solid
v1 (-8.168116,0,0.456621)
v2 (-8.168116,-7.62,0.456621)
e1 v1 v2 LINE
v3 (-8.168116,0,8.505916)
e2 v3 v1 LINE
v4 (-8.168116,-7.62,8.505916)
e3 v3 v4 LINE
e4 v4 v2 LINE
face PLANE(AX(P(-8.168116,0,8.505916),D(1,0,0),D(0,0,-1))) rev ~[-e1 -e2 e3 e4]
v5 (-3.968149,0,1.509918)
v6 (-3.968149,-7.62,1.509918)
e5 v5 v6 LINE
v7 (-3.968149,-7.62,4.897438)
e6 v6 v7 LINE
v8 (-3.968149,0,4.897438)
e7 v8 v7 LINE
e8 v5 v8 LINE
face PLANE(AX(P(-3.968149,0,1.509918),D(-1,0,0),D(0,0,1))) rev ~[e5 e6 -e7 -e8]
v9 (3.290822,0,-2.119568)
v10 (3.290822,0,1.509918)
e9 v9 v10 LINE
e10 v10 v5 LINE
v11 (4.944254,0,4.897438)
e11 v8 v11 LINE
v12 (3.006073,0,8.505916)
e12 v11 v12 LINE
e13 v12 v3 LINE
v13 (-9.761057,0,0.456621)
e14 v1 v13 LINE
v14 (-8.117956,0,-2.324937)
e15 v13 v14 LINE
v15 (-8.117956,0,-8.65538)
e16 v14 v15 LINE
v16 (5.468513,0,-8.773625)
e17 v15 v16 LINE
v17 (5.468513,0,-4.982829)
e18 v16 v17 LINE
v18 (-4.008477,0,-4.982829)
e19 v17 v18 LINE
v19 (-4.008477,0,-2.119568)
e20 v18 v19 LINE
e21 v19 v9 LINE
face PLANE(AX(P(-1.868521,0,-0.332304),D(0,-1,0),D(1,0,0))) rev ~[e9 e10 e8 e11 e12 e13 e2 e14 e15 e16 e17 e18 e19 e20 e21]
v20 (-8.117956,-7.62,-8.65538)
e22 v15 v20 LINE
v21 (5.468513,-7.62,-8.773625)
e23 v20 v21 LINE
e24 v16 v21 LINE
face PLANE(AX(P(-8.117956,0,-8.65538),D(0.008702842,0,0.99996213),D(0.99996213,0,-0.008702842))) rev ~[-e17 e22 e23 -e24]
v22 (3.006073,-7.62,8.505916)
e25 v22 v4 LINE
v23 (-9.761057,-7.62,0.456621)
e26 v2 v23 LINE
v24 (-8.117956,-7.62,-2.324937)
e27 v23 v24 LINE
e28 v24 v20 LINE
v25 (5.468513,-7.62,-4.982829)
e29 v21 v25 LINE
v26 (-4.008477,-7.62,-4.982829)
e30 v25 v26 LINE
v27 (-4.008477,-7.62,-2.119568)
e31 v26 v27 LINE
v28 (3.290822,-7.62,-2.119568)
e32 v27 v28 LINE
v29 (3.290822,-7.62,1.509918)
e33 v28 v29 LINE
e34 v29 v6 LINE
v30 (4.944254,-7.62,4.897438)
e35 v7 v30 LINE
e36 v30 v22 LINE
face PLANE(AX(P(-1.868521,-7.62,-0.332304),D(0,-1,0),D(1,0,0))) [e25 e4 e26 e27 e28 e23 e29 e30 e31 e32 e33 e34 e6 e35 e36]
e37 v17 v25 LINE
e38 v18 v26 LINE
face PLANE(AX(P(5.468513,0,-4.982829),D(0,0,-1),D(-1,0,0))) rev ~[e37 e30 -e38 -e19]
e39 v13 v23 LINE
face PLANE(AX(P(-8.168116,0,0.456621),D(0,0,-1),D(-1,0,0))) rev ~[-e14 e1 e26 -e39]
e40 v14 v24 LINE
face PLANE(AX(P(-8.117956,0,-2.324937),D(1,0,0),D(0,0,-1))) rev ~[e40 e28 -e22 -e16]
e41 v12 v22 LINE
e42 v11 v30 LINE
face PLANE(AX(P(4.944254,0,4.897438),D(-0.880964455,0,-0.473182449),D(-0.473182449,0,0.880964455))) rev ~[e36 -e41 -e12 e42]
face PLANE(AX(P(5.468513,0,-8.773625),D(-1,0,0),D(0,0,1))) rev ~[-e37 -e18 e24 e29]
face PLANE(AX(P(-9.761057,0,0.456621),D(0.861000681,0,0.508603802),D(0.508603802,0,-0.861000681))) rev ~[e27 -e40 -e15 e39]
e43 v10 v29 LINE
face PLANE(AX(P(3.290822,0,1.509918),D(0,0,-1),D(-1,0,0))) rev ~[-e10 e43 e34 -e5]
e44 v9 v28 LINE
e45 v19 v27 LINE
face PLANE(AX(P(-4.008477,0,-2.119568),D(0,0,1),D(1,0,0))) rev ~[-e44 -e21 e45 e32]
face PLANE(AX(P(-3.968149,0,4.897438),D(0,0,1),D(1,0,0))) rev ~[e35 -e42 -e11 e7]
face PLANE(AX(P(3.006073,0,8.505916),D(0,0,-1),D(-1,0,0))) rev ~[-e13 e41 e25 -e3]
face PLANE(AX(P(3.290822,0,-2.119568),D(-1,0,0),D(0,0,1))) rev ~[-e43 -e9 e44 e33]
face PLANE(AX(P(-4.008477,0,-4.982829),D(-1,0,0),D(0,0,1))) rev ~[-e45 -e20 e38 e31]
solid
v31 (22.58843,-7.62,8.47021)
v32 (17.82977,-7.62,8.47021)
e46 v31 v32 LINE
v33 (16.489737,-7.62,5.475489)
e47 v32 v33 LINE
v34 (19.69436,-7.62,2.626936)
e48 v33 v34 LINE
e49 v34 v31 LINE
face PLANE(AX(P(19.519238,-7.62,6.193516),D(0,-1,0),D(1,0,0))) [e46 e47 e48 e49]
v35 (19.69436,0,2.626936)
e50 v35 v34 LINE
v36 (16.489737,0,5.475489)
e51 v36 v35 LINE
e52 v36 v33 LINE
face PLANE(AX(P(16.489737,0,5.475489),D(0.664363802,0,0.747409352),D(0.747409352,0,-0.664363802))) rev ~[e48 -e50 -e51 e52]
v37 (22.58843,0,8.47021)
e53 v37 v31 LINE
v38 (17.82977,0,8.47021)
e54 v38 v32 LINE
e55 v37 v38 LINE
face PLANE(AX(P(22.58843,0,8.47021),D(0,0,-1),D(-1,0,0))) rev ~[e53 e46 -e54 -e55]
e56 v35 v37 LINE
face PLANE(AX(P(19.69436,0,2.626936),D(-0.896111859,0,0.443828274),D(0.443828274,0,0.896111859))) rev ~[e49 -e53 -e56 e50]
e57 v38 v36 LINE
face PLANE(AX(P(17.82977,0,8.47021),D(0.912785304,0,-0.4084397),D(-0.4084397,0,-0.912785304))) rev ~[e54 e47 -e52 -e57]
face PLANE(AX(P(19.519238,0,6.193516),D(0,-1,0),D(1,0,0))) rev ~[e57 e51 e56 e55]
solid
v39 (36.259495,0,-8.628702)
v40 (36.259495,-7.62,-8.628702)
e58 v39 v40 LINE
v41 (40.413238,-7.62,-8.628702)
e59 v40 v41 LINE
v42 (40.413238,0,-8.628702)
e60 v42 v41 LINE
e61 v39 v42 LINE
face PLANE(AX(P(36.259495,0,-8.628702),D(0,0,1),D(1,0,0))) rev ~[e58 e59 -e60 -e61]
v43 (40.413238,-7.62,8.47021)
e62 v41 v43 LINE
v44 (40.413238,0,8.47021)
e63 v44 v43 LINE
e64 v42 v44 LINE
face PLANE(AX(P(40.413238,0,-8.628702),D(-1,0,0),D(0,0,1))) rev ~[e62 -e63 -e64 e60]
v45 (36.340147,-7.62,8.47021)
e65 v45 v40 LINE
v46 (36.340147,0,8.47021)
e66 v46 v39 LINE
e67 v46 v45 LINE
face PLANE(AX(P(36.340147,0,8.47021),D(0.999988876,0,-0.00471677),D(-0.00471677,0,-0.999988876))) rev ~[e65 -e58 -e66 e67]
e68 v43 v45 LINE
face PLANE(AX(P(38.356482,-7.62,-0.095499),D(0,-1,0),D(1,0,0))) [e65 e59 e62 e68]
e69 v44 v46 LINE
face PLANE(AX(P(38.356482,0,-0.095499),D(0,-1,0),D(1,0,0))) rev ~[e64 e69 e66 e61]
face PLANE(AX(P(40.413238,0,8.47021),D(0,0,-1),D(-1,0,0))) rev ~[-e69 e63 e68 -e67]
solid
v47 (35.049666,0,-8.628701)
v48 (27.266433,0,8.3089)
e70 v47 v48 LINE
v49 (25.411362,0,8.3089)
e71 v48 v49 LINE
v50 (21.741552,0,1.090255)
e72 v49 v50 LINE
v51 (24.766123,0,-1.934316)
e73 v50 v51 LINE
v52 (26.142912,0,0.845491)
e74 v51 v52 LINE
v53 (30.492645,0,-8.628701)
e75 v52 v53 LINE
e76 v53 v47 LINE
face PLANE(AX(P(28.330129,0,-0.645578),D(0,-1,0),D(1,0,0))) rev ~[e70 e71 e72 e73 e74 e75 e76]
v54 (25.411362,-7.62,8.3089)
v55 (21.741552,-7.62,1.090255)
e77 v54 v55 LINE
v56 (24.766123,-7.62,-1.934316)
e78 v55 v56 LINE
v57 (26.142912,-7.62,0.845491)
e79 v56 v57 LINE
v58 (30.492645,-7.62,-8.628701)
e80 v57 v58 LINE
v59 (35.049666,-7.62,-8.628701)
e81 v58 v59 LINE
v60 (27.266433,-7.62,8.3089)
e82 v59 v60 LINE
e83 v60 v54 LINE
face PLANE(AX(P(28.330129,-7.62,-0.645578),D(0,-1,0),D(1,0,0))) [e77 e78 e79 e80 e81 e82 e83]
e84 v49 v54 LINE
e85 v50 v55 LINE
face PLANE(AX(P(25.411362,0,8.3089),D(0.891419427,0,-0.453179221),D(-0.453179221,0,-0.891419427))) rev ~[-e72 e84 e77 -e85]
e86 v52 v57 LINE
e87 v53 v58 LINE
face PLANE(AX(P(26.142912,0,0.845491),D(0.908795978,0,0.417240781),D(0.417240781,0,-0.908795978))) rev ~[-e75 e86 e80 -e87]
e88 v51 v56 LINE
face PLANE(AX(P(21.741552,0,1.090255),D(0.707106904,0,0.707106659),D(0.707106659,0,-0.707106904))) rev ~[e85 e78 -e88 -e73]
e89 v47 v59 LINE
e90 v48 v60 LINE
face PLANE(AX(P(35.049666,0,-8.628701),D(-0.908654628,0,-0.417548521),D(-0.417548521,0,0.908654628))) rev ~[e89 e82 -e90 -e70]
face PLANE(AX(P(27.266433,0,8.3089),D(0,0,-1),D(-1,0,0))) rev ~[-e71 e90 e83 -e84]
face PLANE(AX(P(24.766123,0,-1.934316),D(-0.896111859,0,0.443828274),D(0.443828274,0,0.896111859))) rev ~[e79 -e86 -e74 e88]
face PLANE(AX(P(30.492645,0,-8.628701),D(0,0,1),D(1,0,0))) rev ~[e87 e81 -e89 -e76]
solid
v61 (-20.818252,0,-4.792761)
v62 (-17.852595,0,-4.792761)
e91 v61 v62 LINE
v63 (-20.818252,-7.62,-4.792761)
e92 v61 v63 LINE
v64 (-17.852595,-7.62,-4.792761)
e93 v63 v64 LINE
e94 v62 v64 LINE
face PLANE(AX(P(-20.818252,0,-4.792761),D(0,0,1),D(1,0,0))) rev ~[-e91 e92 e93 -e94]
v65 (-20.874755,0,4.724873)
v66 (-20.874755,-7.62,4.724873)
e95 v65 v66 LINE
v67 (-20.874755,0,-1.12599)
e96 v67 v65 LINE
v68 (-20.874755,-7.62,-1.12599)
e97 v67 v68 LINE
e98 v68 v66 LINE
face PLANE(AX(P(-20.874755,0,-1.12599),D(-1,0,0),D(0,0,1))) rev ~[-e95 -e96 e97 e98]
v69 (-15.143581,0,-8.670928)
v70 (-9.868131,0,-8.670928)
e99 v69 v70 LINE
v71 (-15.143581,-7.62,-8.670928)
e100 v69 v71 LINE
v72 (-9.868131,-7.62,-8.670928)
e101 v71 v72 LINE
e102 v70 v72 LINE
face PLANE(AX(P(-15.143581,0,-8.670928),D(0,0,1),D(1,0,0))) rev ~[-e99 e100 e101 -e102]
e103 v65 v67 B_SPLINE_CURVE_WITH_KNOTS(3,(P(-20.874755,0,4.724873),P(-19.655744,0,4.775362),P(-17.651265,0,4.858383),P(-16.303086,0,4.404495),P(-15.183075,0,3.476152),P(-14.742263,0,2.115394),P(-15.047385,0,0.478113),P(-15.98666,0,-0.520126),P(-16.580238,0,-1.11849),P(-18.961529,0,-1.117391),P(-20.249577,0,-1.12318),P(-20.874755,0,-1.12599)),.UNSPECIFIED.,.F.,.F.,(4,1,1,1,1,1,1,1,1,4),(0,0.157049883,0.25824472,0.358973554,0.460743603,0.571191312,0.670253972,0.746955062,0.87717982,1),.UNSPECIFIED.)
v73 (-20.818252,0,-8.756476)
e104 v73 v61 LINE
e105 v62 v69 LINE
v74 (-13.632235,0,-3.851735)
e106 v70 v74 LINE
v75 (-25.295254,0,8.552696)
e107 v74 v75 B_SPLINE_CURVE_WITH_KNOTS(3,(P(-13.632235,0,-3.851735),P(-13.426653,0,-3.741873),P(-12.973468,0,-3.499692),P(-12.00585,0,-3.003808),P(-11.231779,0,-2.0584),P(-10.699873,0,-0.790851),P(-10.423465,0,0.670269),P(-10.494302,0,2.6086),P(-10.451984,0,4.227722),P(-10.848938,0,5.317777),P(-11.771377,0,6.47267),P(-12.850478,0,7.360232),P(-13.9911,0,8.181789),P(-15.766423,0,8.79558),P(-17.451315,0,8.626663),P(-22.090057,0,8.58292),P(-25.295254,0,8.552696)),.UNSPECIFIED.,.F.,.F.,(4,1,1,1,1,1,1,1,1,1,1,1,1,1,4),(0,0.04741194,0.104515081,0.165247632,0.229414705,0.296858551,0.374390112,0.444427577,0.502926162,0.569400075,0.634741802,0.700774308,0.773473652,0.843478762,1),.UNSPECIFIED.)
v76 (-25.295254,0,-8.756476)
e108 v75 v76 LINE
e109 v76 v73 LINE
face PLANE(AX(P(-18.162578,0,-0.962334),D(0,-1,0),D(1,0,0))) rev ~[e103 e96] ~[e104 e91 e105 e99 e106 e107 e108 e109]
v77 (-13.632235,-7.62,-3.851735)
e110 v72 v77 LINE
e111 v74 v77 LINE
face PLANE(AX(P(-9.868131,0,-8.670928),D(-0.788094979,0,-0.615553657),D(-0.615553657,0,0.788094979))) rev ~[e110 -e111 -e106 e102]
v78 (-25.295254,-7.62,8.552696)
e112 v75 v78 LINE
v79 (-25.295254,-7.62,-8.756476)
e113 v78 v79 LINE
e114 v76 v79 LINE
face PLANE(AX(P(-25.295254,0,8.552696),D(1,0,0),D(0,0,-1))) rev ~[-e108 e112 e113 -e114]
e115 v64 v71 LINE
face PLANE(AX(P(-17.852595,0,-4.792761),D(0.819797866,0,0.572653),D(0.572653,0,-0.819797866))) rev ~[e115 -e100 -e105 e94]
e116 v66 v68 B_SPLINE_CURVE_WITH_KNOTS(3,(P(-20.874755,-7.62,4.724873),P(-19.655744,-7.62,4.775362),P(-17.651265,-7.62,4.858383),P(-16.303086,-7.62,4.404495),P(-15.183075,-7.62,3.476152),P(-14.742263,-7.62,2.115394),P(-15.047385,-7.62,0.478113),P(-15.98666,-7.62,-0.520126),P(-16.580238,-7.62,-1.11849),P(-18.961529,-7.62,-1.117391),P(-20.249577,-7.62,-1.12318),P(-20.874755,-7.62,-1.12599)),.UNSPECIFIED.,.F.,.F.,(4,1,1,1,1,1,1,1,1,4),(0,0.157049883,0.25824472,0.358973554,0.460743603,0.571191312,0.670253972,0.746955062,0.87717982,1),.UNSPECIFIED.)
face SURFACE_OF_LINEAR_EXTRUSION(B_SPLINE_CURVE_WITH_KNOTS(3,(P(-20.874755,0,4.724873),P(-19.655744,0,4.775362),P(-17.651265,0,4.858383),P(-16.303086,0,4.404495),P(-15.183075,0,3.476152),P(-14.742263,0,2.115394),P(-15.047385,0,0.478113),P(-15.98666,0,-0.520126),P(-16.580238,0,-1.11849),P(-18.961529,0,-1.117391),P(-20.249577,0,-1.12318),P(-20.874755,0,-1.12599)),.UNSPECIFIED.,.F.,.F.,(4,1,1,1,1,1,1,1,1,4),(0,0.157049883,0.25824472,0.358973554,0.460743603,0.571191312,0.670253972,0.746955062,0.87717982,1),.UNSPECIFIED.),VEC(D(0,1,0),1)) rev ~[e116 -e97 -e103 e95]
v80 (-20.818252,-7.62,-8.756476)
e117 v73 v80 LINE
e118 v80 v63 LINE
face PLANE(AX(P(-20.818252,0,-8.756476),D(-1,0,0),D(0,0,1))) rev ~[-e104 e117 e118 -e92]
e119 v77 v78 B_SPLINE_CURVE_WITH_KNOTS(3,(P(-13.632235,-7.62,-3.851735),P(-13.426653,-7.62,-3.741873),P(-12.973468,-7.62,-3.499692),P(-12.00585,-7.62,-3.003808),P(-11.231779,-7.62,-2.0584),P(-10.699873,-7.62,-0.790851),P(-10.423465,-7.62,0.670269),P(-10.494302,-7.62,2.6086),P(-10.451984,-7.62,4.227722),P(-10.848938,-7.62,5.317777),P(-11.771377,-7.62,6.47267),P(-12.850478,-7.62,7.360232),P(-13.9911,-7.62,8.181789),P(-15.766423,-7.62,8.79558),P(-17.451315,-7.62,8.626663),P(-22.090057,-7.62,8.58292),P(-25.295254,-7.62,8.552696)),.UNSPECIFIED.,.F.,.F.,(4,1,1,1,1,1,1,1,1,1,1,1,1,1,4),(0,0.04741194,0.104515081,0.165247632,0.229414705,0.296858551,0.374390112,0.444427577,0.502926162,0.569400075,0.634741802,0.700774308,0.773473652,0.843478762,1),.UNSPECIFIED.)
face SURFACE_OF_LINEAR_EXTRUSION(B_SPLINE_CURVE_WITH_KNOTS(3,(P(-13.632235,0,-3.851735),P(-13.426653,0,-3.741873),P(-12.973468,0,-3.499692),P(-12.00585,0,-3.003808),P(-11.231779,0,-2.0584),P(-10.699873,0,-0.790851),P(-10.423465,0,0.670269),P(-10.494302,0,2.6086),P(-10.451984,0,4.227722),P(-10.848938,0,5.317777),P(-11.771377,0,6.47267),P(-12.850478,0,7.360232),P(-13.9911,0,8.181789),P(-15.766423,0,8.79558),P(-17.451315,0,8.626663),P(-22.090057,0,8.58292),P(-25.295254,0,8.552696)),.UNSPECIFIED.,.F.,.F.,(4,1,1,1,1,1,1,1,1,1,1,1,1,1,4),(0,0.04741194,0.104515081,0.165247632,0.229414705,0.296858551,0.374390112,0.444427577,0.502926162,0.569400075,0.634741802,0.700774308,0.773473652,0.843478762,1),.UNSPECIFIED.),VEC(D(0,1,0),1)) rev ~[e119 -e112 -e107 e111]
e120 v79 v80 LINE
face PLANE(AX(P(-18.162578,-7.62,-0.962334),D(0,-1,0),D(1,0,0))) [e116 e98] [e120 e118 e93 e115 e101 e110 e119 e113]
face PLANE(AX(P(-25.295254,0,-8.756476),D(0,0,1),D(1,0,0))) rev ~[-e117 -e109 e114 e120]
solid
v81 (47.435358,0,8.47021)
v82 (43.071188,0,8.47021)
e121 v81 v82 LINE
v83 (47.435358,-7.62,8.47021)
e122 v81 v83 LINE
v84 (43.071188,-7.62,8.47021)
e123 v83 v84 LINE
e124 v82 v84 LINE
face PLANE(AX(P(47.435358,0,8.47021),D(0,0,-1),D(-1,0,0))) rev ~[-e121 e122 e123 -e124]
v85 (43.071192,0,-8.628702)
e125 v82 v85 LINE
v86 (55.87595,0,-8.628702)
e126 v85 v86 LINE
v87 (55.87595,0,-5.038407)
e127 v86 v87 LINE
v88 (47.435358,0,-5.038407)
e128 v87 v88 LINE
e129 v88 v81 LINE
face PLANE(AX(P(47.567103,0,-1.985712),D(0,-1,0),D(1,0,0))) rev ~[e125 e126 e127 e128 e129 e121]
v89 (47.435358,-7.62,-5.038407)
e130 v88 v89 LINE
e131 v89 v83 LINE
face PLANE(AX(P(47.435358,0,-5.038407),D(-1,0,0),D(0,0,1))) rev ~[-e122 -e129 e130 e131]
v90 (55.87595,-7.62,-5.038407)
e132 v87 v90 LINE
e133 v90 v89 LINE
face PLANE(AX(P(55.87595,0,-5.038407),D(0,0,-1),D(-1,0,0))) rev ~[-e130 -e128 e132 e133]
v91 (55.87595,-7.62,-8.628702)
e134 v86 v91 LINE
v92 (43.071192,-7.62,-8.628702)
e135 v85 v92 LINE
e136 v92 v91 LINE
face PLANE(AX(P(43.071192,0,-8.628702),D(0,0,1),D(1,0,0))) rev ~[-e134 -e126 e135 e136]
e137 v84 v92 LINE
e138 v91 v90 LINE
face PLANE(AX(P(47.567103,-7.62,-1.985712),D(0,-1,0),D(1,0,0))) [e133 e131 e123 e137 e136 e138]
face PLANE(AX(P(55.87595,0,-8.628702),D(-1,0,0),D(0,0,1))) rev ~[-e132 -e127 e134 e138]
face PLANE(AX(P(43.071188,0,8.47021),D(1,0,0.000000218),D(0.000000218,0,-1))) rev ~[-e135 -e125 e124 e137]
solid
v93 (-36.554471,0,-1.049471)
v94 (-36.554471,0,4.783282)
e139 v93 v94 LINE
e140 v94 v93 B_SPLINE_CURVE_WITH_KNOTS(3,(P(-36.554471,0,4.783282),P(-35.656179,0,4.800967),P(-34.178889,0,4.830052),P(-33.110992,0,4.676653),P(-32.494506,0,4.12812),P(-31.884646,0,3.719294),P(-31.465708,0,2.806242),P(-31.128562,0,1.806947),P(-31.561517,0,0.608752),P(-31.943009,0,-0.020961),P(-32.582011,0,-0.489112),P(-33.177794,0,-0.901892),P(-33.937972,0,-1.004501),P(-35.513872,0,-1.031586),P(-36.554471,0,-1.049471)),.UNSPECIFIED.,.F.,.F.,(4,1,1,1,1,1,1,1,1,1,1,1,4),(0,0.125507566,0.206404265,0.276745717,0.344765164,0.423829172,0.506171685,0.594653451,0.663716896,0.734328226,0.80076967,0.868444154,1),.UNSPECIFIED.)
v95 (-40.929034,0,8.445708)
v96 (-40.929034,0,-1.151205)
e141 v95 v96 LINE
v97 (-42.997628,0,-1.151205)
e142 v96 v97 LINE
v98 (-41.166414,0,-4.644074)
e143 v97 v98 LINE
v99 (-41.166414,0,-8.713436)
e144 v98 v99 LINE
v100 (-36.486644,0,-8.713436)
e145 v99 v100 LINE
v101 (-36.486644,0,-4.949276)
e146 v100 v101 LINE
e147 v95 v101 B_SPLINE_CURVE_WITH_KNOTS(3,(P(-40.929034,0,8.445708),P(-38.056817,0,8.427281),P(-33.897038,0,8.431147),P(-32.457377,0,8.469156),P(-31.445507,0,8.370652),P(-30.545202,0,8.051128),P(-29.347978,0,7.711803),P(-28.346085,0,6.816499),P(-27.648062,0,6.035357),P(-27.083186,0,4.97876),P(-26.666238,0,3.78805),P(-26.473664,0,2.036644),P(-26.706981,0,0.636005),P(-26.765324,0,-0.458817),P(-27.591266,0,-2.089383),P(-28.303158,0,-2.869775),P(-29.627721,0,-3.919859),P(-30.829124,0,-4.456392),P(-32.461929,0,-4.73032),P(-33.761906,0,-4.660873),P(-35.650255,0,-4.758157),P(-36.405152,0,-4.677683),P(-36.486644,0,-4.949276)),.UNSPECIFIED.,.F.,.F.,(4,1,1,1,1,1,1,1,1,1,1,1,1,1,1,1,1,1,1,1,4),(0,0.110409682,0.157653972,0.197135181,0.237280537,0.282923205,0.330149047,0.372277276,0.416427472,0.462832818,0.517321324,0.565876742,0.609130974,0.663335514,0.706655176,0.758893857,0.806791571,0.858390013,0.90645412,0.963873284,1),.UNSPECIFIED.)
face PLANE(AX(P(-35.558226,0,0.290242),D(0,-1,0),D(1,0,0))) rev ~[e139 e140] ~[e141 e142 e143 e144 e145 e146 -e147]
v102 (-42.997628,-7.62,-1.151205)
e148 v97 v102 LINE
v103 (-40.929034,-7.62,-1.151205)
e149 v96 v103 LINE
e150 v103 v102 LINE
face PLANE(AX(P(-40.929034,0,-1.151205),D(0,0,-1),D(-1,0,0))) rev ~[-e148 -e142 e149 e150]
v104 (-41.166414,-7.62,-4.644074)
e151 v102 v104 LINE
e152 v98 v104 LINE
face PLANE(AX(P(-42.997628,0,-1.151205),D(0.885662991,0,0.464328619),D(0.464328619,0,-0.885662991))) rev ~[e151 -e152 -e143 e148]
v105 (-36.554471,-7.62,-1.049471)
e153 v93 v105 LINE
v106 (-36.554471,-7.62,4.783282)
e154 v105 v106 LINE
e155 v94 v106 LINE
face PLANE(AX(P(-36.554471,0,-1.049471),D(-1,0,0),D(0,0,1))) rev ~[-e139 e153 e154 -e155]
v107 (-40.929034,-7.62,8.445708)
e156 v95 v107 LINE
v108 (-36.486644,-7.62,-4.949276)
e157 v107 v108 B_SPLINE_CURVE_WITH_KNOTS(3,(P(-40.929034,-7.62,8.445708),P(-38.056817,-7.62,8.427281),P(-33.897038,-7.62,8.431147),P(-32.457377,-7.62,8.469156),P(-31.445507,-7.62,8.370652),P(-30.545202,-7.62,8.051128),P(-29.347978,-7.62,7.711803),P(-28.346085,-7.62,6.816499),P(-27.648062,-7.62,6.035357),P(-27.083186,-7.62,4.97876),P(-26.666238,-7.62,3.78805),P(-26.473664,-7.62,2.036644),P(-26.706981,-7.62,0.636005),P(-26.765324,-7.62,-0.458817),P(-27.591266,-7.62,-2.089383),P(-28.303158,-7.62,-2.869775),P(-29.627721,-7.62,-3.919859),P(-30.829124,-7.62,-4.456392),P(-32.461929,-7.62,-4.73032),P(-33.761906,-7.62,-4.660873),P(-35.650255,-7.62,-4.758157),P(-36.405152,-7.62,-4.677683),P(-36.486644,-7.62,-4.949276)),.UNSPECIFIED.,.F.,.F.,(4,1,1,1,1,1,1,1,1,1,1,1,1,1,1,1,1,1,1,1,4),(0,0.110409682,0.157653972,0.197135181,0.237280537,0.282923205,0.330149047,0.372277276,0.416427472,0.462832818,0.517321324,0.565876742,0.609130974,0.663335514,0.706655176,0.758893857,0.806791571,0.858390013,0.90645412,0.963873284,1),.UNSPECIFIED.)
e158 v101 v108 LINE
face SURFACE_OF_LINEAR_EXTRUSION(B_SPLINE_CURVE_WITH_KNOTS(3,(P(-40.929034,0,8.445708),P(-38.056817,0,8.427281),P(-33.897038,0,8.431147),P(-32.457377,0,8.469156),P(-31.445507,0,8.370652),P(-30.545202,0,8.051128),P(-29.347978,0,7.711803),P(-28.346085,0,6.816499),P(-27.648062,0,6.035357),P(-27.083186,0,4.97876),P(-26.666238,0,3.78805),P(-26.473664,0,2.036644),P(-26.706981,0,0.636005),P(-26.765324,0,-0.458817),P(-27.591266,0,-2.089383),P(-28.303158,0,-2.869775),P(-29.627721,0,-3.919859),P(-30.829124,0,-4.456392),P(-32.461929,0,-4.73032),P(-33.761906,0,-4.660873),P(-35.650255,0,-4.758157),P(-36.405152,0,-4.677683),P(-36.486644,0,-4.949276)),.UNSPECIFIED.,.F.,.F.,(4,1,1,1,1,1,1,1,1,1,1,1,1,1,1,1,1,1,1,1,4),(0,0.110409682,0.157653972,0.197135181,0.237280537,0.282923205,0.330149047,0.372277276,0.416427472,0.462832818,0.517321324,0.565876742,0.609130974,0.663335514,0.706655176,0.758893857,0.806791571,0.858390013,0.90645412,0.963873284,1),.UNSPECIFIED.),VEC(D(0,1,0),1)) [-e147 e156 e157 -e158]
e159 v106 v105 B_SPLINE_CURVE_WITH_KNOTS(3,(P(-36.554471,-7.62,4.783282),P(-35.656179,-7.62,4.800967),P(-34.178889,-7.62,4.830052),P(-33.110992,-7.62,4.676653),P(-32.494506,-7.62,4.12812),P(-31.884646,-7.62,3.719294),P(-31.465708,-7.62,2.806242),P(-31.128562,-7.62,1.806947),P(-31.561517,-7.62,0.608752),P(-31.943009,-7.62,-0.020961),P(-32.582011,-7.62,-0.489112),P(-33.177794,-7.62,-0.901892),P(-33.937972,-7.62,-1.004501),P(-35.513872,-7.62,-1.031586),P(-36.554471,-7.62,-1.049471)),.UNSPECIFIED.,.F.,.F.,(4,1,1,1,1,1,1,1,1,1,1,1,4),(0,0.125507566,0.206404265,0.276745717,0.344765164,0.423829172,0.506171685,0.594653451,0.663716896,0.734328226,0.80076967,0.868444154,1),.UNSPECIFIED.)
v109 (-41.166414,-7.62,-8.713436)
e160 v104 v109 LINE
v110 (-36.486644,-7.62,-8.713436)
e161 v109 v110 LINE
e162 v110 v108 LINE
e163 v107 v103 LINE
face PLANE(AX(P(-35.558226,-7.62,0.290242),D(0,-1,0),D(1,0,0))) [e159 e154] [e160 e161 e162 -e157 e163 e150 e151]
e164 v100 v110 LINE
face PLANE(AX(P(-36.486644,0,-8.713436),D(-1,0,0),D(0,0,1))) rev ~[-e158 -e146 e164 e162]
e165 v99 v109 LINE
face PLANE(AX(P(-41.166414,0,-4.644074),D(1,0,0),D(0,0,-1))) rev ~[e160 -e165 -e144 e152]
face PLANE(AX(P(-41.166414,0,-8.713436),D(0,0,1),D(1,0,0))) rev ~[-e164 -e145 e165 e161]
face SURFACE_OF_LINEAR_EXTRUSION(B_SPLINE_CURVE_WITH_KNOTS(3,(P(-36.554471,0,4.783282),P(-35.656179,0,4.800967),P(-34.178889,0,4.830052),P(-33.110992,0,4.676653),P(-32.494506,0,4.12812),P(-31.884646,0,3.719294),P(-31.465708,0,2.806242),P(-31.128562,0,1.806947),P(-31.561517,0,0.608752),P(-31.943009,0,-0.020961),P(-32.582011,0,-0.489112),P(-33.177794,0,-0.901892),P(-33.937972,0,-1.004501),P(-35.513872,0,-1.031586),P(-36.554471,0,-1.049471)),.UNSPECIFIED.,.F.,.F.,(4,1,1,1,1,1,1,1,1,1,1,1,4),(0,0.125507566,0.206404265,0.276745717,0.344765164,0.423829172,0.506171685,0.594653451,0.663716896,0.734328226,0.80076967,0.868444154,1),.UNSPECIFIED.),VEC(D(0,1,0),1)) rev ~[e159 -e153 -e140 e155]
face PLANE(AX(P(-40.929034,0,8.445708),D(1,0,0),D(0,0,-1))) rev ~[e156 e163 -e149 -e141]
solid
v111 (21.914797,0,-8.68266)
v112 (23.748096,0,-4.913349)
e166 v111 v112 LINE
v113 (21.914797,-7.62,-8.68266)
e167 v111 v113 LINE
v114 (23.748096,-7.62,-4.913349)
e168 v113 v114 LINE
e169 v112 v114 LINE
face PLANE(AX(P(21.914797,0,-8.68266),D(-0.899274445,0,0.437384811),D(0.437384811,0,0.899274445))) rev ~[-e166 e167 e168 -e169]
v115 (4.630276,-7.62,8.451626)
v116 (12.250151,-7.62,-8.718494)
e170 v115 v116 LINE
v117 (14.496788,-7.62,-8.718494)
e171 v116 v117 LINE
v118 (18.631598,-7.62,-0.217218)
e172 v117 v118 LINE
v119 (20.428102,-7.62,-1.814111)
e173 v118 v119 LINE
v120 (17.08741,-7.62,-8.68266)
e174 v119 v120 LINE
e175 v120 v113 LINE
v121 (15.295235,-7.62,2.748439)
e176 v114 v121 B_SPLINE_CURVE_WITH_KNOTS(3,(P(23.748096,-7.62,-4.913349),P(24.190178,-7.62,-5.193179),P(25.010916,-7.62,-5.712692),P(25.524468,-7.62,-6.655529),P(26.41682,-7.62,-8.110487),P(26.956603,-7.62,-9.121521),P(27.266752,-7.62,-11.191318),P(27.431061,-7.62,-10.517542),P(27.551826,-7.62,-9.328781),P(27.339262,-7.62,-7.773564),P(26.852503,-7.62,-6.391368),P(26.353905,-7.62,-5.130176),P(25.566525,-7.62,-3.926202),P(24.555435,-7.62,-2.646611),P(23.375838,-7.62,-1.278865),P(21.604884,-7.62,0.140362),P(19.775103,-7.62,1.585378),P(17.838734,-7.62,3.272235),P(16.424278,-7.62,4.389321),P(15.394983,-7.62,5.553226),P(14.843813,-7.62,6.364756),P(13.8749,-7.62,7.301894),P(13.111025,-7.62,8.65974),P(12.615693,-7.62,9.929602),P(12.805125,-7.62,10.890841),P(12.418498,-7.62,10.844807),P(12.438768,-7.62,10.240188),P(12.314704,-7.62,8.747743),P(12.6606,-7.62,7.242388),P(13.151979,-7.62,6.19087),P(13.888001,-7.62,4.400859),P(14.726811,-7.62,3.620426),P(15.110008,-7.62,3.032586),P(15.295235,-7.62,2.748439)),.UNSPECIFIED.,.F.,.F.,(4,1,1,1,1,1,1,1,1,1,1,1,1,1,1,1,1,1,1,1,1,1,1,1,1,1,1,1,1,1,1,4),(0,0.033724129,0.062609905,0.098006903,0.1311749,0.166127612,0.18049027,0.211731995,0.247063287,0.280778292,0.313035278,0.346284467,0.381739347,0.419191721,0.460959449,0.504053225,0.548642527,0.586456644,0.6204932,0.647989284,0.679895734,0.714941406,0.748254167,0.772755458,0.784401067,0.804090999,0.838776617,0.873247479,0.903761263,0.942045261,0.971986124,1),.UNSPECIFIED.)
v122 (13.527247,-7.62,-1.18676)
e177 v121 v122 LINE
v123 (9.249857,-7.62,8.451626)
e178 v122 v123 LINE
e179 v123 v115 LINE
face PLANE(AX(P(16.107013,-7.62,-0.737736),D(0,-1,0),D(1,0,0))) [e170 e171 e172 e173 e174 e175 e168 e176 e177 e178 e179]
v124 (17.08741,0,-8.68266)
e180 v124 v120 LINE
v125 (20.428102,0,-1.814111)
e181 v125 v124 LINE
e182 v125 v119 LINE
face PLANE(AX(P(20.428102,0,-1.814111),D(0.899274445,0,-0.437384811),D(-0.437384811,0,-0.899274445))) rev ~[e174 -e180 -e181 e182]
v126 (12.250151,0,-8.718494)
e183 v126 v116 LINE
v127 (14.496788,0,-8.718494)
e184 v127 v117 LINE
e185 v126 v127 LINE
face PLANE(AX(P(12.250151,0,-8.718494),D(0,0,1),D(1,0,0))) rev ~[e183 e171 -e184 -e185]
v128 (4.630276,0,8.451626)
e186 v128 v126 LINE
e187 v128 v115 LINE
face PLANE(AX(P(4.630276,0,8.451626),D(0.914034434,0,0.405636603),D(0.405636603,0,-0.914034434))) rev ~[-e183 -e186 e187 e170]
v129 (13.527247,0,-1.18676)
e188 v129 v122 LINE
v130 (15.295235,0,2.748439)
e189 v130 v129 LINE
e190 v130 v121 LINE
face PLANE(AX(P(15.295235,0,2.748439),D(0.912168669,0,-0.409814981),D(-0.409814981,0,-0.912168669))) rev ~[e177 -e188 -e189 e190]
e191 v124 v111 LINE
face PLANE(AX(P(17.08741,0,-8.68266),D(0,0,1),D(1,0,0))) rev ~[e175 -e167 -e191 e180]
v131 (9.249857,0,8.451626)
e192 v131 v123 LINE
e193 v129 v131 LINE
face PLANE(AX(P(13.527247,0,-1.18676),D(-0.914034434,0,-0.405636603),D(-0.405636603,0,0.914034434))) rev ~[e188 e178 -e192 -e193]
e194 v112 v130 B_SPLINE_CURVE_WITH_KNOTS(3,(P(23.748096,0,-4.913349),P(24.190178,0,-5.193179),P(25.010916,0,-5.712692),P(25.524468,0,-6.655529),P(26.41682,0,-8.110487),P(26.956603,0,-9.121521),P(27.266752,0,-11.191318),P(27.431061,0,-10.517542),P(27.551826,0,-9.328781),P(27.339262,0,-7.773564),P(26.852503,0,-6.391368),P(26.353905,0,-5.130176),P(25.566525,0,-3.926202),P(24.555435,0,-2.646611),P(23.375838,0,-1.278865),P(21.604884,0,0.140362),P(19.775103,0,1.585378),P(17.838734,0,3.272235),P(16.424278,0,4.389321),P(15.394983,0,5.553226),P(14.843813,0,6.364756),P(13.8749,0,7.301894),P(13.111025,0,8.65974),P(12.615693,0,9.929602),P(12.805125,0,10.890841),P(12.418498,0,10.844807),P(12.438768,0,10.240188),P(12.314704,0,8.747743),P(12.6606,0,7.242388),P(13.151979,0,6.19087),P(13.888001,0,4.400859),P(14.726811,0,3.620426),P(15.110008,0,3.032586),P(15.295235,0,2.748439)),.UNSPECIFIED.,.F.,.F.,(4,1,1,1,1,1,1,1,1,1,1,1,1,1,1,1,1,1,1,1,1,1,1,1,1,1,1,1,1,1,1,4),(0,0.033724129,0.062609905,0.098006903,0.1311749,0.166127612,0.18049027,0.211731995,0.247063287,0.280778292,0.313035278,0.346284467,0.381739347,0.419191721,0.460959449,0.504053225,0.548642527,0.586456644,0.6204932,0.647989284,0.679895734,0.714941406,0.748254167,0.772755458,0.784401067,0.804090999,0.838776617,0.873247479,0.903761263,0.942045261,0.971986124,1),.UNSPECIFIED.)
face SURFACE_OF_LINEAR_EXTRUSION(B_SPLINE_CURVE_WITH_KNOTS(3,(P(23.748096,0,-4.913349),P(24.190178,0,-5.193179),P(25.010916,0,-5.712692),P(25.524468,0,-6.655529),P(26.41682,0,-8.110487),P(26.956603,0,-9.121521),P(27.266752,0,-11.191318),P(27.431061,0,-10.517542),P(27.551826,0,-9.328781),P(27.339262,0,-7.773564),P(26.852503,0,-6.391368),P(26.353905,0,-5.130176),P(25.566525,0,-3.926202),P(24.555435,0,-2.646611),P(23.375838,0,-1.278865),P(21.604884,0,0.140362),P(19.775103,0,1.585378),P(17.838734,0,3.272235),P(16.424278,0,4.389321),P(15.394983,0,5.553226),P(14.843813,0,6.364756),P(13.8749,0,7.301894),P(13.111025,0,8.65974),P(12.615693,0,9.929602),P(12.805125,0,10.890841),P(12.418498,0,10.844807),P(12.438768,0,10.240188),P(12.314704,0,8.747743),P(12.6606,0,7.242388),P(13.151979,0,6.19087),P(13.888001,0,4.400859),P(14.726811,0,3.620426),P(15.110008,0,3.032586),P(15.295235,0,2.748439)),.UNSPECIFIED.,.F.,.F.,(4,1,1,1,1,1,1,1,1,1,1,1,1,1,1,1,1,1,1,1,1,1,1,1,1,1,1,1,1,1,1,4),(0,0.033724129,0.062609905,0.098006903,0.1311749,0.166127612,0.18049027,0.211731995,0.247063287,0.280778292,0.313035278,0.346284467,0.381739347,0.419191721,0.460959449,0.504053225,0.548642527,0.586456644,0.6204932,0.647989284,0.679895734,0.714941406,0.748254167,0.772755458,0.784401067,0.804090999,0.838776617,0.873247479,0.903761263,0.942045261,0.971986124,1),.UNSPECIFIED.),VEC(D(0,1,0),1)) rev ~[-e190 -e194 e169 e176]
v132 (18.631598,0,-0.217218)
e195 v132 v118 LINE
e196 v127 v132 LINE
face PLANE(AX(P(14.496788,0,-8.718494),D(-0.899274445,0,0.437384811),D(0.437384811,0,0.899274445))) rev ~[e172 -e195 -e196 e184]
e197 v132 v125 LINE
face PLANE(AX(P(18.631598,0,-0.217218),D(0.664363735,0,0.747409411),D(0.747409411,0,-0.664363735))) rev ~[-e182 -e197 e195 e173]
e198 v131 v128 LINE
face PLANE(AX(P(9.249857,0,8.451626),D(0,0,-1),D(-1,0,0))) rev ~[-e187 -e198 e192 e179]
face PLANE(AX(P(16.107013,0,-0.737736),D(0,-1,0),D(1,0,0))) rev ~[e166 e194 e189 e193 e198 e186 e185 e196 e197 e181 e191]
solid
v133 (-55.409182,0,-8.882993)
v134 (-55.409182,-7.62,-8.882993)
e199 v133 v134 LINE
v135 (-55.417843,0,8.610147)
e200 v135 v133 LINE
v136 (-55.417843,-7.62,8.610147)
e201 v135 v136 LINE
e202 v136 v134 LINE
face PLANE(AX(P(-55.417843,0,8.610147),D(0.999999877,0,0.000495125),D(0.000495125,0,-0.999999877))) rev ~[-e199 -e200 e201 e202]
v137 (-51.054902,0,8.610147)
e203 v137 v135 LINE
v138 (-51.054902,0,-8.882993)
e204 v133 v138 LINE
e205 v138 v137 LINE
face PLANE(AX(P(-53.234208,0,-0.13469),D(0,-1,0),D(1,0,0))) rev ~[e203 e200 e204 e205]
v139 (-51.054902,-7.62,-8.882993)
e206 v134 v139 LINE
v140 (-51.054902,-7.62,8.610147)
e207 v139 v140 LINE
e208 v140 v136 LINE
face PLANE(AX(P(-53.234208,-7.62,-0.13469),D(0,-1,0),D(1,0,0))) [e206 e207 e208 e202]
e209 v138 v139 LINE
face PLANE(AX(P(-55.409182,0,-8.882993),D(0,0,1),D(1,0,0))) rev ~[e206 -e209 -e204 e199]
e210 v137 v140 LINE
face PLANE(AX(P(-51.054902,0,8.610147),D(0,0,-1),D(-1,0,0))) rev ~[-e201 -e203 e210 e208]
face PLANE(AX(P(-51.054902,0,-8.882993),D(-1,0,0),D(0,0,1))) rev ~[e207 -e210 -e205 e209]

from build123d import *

# Parameters (mm, degrees)
F1_DEPTH = 7.62


with BuildPart() as f1:
    # F0 (on Front) → F1 (new body)
    with BuildSketch(Plane.XZ):
        with BuildLine():
            Line((-40.9290343523, -1.1512045749), (-42.9976284504, -1.1512045749))
            Line((-42.9976284504, -1.1512045749), (-41.1664135754, -4.6440740116))
            Line((-41.1664135754, -4.6440740116), (-41.1664135754, -8.713436313))
            Line((-41.1664135754, -8.713436313), (-36.4866442978, -8.713436313))
            Line((-36.4866442978, -8.713436313), (-36.4866442978, -4.9492763355))
            add(Edge.make_bspline(
                [(-40.9290343523, 8.4457080811), (-38.0568173616, 8.427281088), (-33.8970375098, 8.4311468923), (-32.4573767251, 8.4691557011), (-31.4455067551, 8.3706517576), (-30.5452018928, 8.0511283405), (-29.3479783266, 7.7118033275), (-28.3460847464, 6.8164987434), (-27.6480616592, 6.0353568876), (-27.0831862786, 4.9787597949), (-26.6662382353, 3.7880500381), (-26.4736641788, 2.036644064), (-26.7069810318, 0.6360046646), (-26.765324361, -0.4588174616), (-27.5912655927, -2.0893833335), (-28.3031583033, -2.8697748549), (-29.6277206252, -3.9198594673), (-30.8291236629, -4.4563921982), (-32.4619291943, -4.7303201321), (-33.7619058612, -4.6608734623), (-35.6502547279, -4.7581571432), (-36.4051516585, -4.6776827053), (-36.4866442978, -4.9492763355)],
                knots=[0, 0, 0, 0, 0.1104096818, 0.1576539716, 0.197135181, 0.2372805374, 0.282923205, 0.3301490467, 0.3722772764, 0.4164274717, 0.4628328176, 0.5173213235, 0.5658767425, 0.6091309738, 0.6633355142, 0.7066551758, 0.7588938569, 0.8067915707, 0.858390013, 0.9064541204, 0.9638732844, 1, 1, 1, 1], degree=3))
            Line((-40.9290343523, 8.4457080811), (-40.9290343523, -1.1512045749))
        make_face()
        with BuildLine():
            Line((-36.5544706583, -1.0494706221), (-36.5544706583, 4.7832820565))
            add(Edge.make_bspline(
                [(-36.5544706583, 4.7832820565), (-35.6561793671, 4.800967438), (-34.1788887194, 4.8300520447), (-33.110991543, 4.6766527886), (-32.4945061005, 4.1281204769), (-31.8846456265, 3.7192942336), (-31.4657078386, 2.8062418063), (-31.1285620181, 1.8069468371), (-31.5615168723, 0.6087519555), (-31.9430094897, -0.0209610972), (-32.5820108112, -0.489111998), (-33.1777942508, -0.9018921663), (-33.9379719316, -1.004501116), (-35.5138718414, -1.0315859526), (-36.5544706583, -1.0494706221)],
                knots=[0, 0, 0, 0, 0.1255075663, 0.2064042653, 0.2767457167, 0.3447651635, 0.4238291723, 0.5061716846, 0.594653451, 0.6637168964, 0.7343282264, 0.8007696699, 0.868444154, 1, 1, 1, 1], degree=3))
        make_face(mode=Mode.SUBTRACT)
    extrude(amount=F1_DEPTH)


with BuildPart() as f1b:
    # F0 (on Front) → F1, piece 2 (new body)
    with BuildSketch(Plane.XZ):
        Polygon((-51.0549023747, 8.6101470515), (-55.417843163, 8.6101470515), (-55.4091818631, -8.8829929009), (-51.0549023747, -8.8829929009), align=None)
    extrude(amount=F1_DEPTH)


with BuildPart() as f1c:
    # F0 (on Front) → F1, piece 3 (new body)
    with BuildSketch(Plane.XZ):
        Polygon((-8.1179561093, -2.3249371443), (-8.1179561093, -8.6553795263), (5.4685133509, -8.773624897), (5.4685133509, -4.9828290939), (-4.0084770881, -4.9828290939), (-4.0084770881, -2.1195679437), (3.2908222638, -2.1195679437), (3.2908222638, 1.5099179), (-3.9681494236, 1.5099179), (-3.9681494236, 4.8974379897), (4.9442541786, 4.8974379897), (3.0060731806, 8.5059162229), (-8.1681162119, 8.5059162229), (-8.1681162119, 0.456620648), (-9.7610568628, 0.456620648), align=None)
    extrude(amount=F1_DEPTH)


with BuildPart() as f1d:
    # F0 (on Front) → F1, piece 4 (new body)
    with BuildSketch(Plane.XZ):
        with BuildLine():
            Line((9.2498566955, 8.4516257048), (4.6302755363, 8.4516257048))
            Line((4.6302755363, 8.4516257048), (12.250151325, -8.7184935733))
            Line((12.250151325, -8.7184935733), (14.4967883825, -8.7184935733))
            Line((14.4967883825, -8.7184935733), (18.6315979809, -0.2172184759))
            Line((18.6315979809, -0.2172184759), (20.4281024635, -1.8141109031))
            Line((20.4281024635, -1.8141109031), (17.0874101802, -8.6826603345))
            Line((17.0874101802, -8.6826603345), (21.9147969037, -8.6826603345))
            Line((21.9147969037, -8.6826603345), (23.7480963407, -4.9133494439))
            add(Edge.make_bspline(
                [(23.7480963407, -4.9133494439), (24.1901777434, -5.1931790501), (25.0109157523, -5.7126915028), (25.5244681096, -6.6555287063), (26.4168198308, -8.110486902), (26.9566030613, -9.1215208377), (27.2667515271, -11.1913183701), (27.4310614822, -10.5175420094), (27.5518261671, -9.3287811243), (27.3392620038, -7.7735643281), (26.8525026021, -6.3913679176), (26.3539049146, -5.1301762256), (25.5665248175, -3.9262023135), (24.5554346213, -2.6466114355), (23.3758378324, -1.2788645249), (21.6048838906, 0.1403617514), (19.7751032987, 1.5853777985), (17.838733816, 3.2722346113), (16.4242784923, 4.3893214862), (15.3949831475, 5.5532264423), (14.8438126936, 6.3647561543), (13.8749001366, 7.3018941639), (13.1110246979, 8.6597395008), (12.6156934542, 9.9296021259), (12.8051252633, 10.890840898), (12.4184984351, 10.8448072976), (12.4387675532, 10.2401879937), (12.3147039671, 8.7477431608), (12.6606001855, 7.2423880325), (13.1519786404, 6.1908698147), (13.8880014899, 4.4008586837), (14.7268108179, 3.6204263961), (15.110007644, 3.032586171), (15.2952354401, 2.7484388556)],
                knots=[0, 0, 0, 0, 0.0337241294, 0.0626099053, 0.0980069028, 0.1311749, 0.1661276125, 0.1804902704, 0.2117319953, 0.2470632873, 0.2807782924, 0.3130352779, 0.3462844669, 0.381739347, 0.419191721, 0.4609594488, 0.5040532245, 0.5486425272, 0.5864566436, 0.6204932003, 0.6479892839, 0.679895734, 0.714941406, 0.7482541666, 0.7727554582, 0.7844010674, 0.8040909986, 0.8387766167, 0.8732474788, 0.9037612627, 0.942045261, 0.9719861235, 1, 1, 1, 1], degree=3))
            Line((15.2952354401, 2.7484388556), (13.5272471234, -1.1867602589))
            Line((13.5272471234, -1.1867602589), (9.2498566955, 8.4516257048))
        make_face()
    extrude(amount=F1_DEPTH)


with BuildPart() as f1e:
    # F0 (on Front) → F1, piece 5 (new body)
    with BuildSketch(Plane.XZ):
        Polygon((17.8297702223, 8.4702102467), (16.4897367358, 5.4754894227), (19.6943599731, 2.6269357186), (22.5884299725, 8.4702102467), align=None)
    extrude(amount=F1_DEPTH)


with BuildPart() as f1f:
    # F0 (on Front) → F1, piece 6 (new body)
    with BuildSketch(Plane.XZ):
        Polygon((25.4113618284, 8.3088995889), (21.7415522784, 1.0902554495), (24.7661229223, -1.9343162421), (26.1429122581, 0.8454914536), (30.492644757, -8.6287008598), (35.0496657193, -8.6287008598), (27.2664334625, 8.3088995889), align=None)
    extrude(amount=F1_DEPTH)


with BuildPart() as f1g:
    # F0 (on Front) → F1, piece 7 (new body)
    with BuildSketch(Plane.XZ):
        Polygon((36.3401472569, 8.4702102467), (36.2594947219, -8.6287017912), (40.4132381082, -8.6287017912), (40.4132381082, 8.4702102467), align=None)
    extrude(amount=F1_DEPTH)


with BuildPart() as f1h:
    # F0 (on Front) → F1, piece 8 (new body)
    with BuildSketch(Plane.XZ):
        Polygon((47.4353581667, 8.4702102467), (43.0711880326, 8.4702102467), (43.0711917579, -8.6287017912), (55.8759495616, -8.6287017912), (55.8759495616, -5.0384066999), (47.4353581667, -5.0384066999), align=None)
    extrude(amount=F1_DEPTH)


with BuildPart() as f1i:
    # F0 (on Front) → F1, piece 9 (new body)
    with BuildSketch(Plane.XZ):
        with BuildLine():
            Line((-25.2952538431, 8.5526956245), (-25.2952538431, -8.7564755231))
            Line((-25.2952538431, -8.7564755231), (-20.8182521164, -8.7564755231))
            Line((-20.8182521164, -8.7564755231), (-20.8182521164, -4.792760592))
            Line((-20.8182521164, -4.792760592), (-17.852595076, -4.792760592))
            Line((-17.852595076, -4.792760592), (-15.1435807347, -8.6709279567))
            Line((-15.1435807347, -8.6709279567), (-9.8681310192, -8.6709279567))
            Line((-9.8681310192, -8.6709279567), (-13.6322351173, -3.8517354988))
            add(Edge.make_bspline(
                [(-13.6322351173, -3.8517354988), (-13.4266533846, -3.7418731333), (-12.9734681391, -3.4996920677), (-12.0058497869, -3.0038075959), (-11.2317790331, -2.0583995479), (-10.6998734387, -0.7908512638), (-10.4234646732, 0.6702694466), (-10.4943019769, 2.6085995403), (-10.4519836902, 4.227722041), (-10.8489384196, 5.3177768013), (-11.7713766095, 6.4726697872), (-12.8504782576, 7.3602321264), (-13.9910997189, 8.1817888532), (-15.7664225182, 8.7955803866), (-17.4513145885, 8.626663343), (-22.0900565622, 8.582920378), (-25.2952538431, 8.5526956245)],
                knots=[0, 0, 0, 0, 0.0474119396, 0.1045150813, 0.1652476321, 0.2294147049, 0.2968585514, 0.3743901123, 0.4444275768, 0.502926162, 0.5694000752, 0.6347418024, 0.7007743078, 0.7734736518, 0.8434787623, 1, 1, 1, 1], degree=3))
        make_face()
        with BuildLine():
            add(Edge.make_bspline(
                [(-20.874755457, 4.7248732299), (-19.655744099, 4.7753620014), (-17.6512647614, 4.8583831304), (-16.3030861103, 4.4044952705), (-15.1830749862, 3.4761524343), (-14.7422630704, 2.1153942257), (-15.0473854942, 0.478113384), (-15.9866597996, -0.520126131), (-16.5802379708, -1.1184901534), (-18.9615289021, -1.11739072), (-20.2495768527, -1.1231799285), (-20.874755457, -1.1259898311)],
                knots=[0, 0, 0, 0, 0.1570498834, 0.2582447196, 0.3589735539, 0.4607436029, 0.571191312, 0.6702539725, 0.7469550619, 0.8771798199, 1, 1, 1, 1], degree=3))
            Line((-20.874755457, -1.1259898311), (-20.874755457, 4.7248732299))
        make_face(mode=Mode.SUBTRACT)
    extrude(amount=F1_DEPTH)


solid = Compound([f1.part, f1b.part, f1c.part, f1d.part, f1e.part, f1f.part, f1g.part, f1h.part, f1i.part])
